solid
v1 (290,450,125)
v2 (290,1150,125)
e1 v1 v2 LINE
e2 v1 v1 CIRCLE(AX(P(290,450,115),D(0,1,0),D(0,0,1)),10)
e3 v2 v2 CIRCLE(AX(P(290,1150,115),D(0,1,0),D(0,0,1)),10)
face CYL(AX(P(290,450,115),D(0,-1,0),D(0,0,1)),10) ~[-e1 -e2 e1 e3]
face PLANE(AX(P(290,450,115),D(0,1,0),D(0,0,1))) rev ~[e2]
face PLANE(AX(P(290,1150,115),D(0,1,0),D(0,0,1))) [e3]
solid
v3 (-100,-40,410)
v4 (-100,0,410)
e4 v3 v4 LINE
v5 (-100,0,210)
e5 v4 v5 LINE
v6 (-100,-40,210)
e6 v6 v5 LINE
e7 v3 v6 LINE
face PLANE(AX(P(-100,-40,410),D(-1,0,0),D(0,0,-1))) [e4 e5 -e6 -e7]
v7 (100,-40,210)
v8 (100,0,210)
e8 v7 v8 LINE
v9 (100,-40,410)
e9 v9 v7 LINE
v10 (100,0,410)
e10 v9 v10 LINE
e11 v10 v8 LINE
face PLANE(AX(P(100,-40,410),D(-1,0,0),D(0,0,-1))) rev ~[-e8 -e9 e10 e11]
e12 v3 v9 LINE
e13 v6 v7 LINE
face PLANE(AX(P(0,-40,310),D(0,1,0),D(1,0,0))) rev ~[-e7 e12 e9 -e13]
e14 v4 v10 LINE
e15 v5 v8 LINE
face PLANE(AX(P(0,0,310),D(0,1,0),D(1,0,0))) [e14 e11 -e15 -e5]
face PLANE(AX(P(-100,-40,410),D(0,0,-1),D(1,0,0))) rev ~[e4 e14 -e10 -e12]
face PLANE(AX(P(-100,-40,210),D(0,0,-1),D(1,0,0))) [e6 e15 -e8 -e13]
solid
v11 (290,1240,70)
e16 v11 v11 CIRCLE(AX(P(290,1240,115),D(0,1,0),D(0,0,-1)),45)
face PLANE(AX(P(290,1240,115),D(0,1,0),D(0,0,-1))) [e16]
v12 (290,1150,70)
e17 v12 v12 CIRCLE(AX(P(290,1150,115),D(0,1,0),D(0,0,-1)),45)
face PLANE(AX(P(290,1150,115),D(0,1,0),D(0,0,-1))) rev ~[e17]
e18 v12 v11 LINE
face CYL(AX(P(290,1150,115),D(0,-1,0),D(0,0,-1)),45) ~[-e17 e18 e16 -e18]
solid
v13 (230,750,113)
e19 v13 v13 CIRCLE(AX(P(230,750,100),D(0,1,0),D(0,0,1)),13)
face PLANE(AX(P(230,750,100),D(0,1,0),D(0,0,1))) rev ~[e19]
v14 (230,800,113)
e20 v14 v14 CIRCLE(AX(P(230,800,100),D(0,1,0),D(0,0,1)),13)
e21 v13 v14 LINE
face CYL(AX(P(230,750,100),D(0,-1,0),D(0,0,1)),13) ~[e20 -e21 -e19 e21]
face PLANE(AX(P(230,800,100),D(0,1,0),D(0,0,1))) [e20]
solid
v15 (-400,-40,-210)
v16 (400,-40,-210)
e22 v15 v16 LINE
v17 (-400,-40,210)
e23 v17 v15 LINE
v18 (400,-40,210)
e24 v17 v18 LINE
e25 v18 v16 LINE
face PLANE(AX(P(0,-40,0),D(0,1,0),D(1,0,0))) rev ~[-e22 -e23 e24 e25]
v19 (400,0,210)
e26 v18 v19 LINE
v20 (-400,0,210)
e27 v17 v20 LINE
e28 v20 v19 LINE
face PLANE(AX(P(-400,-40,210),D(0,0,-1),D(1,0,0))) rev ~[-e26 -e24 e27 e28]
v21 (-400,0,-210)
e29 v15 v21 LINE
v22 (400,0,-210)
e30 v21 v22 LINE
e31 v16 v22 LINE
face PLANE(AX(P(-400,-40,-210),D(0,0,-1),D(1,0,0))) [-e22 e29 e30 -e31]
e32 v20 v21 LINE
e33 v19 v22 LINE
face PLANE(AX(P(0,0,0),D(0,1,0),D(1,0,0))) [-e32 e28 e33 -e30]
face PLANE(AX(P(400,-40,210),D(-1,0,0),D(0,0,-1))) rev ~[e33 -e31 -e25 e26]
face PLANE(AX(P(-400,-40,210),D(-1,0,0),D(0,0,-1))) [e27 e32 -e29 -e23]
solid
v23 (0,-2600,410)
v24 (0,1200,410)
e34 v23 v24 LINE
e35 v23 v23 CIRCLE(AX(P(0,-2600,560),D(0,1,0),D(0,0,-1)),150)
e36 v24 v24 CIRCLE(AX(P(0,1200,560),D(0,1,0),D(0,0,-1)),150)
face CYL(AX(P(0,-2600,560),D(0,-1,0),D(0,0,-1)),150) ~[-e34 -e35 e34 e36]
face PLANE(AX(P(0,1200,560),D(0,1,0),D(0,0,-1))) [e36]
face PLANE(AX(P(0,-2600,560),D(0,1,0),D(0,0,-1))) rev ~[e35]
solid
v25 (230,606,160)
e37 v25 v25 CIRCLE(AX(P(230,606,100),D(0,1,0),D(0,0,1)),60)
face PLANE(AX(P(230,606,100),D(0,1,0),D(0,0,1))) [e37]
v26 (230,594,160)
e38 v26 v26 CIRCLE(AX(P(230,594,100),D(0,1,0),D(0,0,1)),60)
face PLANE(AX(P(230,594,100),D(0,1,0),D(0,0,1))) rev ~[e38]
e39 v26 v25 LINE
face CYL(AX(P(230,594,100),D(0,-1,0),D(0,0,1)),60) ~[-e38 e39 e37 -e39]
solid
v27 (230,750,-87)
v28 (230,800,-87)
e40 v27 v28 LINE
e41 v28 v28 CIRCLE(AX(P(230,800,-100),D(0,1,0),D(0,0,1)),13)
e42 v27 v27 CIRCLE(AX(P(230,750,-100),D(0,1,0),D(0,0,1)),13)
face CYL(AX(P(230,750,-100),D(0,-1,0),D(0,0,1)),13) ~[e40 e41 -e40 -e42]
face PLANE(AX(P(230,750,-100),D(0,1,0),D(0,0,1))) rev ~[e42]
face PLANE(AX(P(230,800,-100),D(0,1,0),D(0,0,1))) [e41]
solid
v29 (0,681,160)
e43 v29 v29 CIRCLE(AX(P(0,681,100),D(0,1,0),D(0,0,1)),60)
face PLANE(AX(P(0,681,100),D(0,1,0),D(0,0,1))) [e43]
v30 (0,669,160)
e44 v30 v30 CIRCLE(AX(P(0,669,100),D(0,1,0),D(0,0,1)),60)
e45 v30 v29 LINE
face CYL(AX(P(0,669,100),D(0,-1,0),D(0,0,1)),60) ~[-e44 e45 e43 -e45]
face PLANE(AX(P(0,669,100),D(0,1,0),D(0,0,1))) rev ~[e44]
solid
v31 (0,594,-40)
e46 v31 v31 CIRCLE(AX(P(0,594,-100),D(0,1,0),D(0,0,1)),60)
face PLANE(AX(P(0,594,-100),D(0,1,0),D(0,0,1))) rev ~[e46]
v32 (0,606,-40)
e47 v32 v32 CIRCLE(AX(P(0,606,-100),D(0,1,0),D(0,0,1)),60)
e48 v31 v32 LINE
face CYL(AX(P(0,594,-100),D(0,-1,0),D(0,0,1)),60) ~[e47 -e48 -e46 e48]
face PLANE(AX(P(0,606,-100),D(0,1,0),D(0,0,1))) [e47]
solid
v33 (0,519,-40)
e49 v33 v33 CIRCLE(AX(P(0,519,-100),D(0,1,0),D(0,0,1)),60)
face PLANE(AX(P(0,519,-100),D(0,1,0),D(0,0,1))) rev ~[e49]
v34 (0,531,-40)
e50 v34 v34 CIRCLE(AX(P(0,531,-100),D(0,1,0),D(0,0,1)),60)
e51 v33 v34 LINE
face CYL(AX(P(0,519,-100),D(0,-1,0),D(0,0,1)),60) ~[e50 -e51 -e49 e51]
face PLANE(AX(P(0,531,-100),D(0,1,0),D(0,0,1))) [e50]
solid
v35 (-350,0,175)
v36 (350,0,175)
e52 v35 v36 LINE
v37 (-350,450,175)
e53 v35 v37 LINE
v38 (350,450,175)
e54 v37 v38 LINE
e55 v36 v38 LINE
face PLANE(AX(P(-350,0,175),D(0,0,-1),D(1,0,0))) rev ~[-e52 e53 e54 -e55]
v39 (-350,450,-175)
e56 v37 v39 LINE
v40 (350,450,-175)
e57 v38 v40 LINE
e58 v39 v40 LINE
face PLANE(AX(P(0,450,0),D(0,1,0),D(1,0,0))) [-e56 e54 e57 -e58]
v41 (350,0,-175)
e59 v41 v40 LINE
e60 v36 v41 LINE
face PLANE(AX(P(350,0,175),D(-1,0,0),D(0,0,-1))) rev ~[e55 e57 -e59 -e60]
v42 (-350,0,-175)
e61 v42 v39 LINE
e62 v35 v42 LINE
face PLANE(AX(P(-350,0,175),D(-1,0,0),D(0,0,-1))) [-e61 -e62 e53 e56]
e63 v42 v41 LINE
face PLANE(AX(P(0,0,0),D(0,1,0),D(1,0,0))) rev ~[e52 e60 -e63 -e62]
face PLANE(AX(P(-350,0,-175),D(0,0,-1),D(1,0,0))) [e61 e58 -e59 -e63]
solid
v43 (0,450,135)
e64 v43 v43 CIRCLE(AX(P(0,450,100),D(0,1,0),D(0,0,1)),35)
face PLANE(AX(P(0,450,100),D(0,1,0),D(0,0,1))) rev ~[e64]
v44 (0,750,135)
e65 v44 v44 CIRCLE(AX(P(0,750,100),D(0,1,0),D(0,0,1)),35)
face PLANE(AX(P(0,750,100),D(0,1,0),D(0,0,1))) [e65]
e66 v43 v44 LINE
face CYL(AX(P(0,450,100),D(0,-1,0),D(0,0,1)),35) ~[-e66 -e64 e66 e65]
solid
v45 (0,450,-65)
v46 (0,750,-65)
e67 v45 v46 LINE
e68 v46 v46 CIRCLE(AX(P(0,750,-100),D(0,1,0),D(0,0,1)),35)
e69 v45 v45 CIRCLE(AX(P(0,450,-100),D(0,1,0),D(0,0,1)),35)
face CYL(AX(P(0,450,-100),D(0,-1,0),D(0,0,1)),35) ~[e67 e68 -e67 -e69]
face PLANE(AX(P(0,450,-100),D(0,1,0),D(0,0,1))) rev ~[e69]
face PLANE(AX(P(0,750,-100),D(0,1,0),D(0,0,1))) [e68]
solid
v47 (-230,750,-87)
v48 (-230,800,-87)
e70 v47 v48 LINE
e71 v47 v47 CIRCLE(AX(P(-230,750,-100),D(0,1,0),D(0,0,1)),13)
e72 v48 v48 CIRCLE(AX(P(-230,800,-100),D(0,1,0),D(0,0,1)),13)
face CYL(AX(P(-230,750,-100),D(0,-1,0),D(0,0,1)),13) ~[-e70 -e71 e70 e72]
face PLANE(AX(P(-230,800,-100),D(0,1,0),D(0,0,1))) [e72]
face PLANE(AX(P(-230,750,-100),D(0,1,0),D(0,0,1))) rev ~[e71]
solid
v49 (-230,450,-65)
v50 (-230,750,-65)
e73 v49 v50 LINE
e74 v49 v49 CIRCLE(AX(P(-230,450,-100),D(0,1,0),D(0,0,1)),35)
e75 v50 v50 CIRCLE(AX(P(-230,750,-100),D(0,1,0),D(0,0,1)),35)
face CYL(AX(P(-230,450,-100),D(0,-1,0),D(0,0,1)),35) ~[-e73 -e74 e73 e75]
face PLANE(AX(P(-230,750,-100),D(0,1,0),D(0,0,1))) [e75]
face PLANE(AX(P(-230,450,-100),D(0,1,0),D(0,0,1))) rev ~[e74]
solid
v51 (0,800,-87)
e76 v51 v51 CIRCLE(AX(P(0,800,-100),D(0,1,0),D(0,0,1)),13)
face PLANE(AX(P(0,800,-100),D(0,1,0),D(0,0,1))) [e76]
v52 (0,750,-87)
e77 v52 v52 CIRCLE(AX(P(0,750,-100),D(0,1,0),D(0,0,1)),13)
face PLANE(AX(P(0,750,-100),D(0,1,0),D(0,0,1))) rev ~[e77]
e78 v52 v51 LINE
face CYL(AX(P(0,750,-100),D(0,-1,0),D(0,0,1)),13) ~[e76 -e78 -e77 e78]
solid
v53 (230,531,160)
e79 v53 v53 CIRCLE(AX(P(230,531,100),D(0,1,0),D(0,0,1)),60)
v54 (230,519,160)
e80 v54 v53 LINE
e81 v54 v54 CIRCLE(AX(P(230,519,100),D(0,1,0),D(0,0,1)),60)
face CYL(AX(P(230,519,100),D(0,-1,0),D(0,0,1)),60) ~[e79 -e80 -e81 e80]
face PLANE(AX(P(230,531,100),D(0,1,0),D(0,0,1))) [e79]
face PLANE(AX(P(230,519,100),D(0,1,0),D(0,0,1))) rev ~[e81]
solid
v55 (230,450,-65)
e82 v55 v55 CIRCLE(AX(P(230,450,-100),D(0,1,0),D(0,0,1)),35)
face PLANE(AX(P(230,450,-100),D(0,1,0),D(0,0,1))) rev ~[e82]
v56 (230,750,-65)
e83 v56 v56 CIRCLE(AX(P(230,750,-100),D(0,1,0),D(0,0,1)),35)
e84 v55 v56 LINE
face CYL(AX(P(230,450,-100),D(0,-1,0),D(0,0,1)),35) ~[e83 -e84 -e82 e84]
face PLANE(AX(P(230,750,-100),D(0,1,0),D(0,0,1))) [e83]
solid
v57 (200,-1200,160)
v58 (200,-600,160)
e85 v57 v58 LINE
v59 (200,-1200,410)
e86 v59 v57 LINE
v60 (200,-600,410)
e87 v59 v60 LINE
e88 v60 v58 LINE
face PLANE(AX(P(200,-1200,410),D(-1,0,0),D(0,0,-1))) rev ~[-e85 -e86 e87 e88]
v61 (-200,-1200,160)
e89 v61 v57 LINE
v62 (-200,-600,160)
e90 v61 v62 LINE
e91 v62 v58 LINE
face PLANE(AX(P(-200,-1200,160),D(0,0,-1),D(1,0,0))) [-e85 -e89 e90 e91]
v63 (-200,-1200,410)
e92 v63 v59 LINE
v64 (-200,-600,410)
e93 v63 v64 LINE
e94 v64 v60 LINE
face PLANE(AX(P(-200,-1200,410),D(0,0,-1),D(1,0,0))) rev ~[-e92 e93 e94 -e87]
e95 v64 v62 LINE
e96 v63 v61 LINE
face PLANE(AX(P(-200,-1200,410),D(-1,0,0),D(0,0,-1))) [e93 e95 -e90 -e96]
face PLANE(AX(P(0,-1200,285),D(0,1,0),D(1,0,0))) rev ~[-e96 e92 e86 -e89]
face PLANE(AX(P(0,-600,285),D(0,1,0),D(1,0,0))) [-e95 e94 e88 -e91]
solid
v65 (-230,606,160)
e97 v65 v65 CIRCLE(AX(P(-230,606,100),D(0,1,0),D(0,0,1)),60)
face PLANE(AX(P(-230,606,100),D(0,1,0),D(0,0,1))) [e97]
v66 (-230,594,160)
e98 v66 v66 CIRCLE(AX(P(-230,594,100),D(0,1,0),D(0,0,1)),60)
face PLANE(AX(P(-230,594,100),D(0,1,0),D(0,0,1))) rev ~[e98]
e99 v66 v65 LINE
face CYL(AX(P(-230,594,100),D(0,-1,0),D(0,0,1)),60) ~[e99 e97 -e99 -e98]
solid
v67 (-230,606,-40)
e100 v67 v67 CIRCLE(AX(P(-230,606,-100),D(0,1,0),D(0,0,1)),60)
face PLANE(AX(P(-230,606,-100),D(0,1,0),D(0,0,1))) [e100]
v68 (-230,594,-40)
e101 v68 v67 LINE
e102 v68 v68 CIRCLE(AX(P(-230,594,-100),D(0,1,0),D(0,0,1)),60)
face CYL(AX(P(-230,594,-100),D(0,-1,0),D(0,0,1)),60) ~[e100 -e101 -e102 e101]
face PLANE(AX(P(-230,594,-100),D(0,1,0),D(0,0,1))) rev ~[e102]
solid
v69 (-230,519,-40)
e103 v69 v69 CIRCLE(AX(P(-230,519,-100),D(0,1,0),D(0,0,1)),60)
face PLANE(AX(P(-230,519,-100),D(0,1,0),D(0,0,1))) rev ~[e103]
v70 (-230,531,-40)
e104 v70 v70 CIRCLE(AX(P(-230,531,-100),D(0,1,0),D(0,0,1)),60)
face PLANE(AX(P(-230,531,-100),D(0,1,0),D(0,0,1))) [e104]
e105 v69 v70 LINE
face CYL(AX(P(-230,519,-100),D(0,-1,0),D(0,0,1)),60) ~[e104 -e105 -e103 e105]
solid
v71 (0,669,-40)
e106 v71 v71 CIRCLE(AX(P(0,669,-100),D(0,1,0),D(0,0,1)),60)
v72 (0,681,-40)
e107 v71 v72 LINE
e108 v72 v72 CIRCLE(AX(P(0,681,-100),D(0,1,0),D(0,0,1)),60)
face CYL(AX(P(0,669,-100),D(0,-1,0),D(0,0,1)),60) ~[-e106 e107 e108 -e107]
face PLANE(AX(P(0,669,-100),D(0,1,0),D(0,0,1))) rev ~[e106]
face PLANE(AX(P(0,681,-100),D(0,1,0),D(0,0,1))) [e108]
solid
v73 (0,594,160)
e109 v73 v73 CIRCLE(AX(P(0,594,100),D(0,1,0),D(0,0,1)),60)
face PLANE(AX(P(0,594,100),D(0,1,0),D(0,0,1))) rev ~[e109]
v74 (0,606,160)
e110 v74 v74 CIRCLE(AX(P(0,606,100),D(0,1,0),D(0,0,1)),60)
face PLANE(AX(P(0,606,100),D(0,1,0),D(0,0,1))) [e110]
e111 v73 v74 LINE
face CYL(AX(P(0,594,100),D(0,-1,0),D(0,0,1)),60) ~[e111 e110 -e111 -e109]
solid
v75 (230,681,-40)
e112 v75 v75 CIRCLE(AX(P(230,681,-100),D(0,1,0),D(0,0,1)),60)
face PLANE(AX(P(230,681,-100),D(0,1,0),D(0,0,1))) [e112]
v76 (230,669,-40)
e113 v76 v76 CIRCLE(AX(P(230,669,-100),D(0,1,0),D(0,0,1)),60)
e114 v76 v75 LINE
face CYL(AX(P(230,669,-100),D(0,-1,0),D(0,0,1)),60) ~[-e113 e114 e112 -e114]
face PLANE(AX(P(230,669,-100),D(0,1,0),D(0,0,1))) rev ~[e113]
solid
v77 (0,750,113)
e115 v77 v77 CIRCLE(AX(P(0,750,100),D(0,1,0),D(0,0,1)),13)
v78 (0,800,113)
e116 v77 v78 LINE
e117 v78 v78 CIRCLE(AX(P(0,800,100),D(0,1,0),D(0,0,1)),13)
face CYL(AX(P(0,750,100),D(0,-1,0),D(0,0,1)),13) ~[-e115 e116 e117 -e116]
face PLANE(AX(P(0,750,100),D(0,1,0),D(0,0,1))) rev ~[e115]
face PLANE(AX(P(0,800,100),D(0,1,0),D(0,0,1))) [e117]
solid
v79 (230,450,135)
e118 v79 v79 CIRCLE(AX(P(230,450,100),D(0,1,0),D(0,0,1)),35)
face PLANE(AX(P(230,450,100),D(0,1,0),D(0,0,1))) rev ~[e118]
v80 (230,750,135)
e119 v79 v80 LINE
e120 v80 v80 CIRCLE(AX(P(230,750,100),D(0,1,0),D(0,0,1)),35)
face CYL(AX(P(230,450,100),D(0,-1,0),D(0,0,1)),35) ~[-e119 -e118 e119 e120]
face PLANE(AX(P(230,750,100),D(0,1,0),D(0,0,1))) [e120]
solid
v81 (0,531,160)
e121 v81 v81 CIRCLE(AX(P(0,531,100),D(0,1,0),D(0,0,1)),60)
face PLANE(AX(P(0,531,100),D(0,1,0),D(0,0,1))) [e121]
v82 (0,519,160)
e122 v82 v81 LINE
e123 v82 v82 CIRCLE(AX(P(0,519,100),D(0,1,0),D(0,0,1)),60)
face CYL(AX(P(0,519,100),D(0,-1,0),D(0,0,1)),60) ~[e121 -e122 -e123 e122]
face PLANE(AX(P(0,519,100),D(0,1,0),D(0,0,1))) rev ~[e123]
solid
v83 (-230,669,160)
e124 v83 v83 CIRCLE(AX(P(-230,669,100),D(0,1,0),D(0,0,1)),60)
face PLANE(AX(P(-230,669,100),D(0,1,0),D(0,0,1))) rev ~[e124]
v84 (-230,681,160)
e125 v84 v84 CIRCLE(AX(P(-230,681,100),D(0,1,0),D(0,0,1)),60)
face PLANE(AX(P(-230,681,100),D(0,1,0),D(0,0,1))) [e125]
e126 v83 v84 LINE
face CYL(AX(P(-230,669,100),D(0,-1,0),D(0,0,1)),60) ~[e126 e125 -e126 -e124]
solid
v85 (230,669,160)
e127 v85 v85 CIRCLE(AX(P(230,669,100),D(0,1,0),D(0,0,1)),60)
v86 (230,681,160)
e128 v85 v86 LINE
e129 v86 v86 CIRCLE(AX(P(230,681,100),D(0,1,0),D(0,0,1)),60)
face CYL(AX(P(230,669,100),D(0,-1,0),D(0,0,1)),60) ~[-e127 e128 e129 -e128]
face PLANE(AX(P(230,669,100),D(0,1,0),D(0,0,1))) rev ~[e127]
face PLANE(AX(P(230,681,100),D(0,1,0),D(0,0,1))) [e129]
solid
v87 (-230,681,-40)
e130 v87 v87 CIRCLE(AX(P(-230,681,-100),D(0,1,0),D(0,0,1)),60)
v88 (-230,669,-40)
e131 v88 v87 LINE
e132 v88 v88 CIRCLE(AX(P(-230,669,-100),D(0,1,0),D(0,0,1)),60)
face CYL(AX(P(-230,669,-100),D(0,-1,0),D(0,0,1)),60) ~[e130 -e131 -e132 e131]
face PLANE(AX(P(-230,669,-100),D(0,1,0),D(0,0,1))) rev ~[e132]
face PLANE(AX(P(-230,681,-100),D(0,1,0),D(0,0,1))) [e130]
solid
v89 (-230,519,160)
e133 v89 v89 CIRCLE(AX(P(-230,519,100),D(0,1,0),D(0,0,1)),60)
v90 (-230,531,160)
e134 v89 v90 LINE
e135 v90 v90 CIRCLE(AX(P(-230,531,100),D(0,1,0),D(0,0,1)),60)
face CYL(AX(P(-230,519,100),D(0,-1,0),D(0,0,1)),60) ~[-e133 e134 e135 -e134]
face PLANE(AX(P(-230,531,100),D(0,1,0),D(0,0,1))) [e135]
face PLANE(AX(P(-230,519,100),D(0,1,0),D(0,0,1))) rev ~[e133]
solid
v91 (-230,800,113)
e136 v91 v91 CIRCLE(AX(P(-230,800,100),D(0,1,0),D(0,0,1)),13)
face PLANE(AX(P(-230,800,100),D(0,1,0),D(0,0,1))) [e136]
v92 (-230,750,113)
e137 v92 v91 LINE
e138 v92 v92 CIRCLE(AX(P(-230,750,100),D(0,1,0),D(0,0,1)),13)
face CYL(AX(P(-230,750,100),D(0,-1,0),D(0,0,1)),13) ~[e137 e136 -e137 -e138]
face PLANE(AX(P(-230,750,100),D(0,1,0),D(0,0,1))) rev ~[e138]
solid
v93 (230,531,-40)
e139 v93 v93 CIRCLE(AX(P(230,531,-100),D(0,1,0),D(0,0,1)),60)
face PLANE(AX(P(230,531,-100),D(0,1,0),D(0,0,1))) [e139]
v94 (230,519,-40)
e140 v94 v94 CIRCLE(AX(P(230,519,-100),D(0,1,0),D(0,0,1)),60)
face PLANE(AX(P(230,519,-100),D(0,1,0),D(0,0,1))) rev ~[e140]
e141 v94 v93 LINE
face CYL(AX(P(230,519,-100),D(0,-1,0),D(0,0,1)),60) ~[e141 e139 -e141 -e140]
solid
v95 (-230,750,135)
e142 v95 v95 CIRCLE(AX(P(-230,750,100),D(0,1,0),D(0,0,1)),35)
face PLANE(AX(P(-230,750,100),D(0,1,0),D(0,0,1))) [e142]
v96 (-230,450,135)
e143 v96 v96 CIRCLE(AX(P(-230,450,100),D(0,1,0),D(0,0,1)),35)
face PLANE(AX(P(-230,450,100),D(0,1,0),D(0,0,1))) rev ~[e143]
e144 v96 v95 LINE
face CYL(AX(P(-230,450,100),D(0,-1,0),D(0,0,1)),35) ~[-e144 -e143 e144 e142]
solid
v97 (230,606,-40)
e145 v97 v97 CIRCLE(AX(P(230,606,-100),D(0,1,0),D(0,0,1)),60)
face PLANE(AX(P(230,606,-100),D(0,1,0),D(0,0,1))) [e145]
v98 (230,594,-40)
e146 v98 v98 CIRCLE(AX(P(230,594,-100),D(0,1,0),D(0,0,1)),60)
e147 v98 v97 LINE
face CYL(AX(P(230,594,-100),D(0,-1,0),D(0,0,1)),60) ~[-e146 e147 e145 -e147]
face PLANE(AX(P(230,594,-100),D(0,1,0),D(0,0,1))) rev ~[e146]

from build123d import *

# Parameters (mm, degrees)
SKETCH1_W               = 700
SKETCH1_H               = 350
TANK_DEPTH              = 450
FRAME_START             = -40
SKETCH2_W               = 800
SKETCH2_H               = 420
FRAME_DEPTH             = 40
SKETCH3_W               = 200
SKETCH3_H               = 200
FRAME_ARM_DEPTH         = 40
CONTROL_START           = -1200
SKETCH4_W               = 400
SKETCH4_H               = 250
CONTROL_CABINET_DEPTH   = 600
POLE_START              = -2600
SKETCH5_R               = 150
POLE_DEPTH              = 3800
BUSHING_START           = 450
SKETCH6_R               = 35
BUSHING_SOURCE_A_DEPTH  = 300
SHED_START              = 519
SKETCH7_R               = 60
SHED_SOURCE_A_1_DEPTH   = 12
SHED_START_2            = 594
SKETCH8_R               = 60
SHED_SOURCE_A_2_DEPTH   = 12
SHED_START_3            = 669
SKETCH9_R               = 60
SHED_SOURCE_A_3_DEPTH   = 12
TERMINAL_START          = 750
SKETCH10_R              = 13
TERMINAL_SOURCE_A_DEPTH = 50
SKETCH11_R              = 35
BUSHING_SOURCE_B_DEPTH  = 300
SKETCH12_R              = 60
SHED_SOURCE_B_1_DEPTH   = 12
SKETCH13_R              = 60
SHED_SOURCE_B_2_DEPTH   = 12
SKETCH14_R              = 60
SHED_SOURCE_B_3_DEPTH   = 12
SKETCH15_R              = 13
TERMINAL_SOURCE_B_DEPTH = 50
SKETCH16_R              = 35
BUSHING_SOURCE_C_DEPTH  = 300
SKETCH17_R              = 60
SHED_SOURCE_C_1_DEPTH   = 12
SKETCH18_R              = 60
SHED_SOURCE_C_2_DEPTH   = 12
SKETCH19_R              = 60
SHED_SOURCE_C_3_DEPTH   = 12
SKETCH20_R              = 13
TERMINAL_SOURCE_C_DEPTH = 50
SKETCH21_R              = 35
BUSHING_LOAD_A_DEPTH    = 300
SKETCH22_R              = 60
SHED_LOAD_A_1_DEPTH     = 12
SKETCH23_R              = 60
SHED_LOAD_A_2_DEPTH     = 12
SKETCH24_R              = 60
SHED_LOAD_A_3_DEPTH     = 12
SKETCH25_R              = 13
TERMINAL_LOAD_A_DEPTH   = 50
SKETCH26_R              = 35
BUSHING_LOAD_B_DEPTH    = 300
SKETCH27_R              = 60
SHED_LOAD_B_1_DEPTH     = 12
SKETCH28_R              = 60
SHED_LOAD_B_2_DEPTH     = 12
SKETCH29_R              = 60
SHED_LOAD_B_3_DEPTH     = 12
SKETCH30_R              = 13
TERMINAL_LOAD_B_DEPTH   = 50
SKETCH31_R              = 35
BUSHING_LOAD_C_DEPTH    = 300
SKETCH32_R              = 60
SHED_LOAD_C_1_DEPTH     = 12
SKETCH33_R              = 60
SHED_LOAD_C_2_DEPTH     = 12
SKETCH34_R              = 60
SHED_LOAD_C_3_DEPTH     = 12
SKETCH35_R              = 13
TERMINAL_LOAD_C_DEPTH   = 50
ANTENNA_START           = 450
SKETCH36_R              = 10
ANTENNA_MAST_DEPTH      = 700
ANTENNA_START_2         = 1150
SKETCH37_R              = 45
ANTENNA_RADOME_DEPTH    = 90


with BuildPart() as part:
    # Sketch1 → Tank (new body)
    with BuildSketch(Plane(origin=(0, 0, 0), x_dir=(1, 0, 0), z_dir=(0, 1, 0))):
        Rectangle(SKETCH1_W, SKETCH1_H)
    extrude(amount=TANK_DEPTH)


with BuildPart() as body_2:
    # Sketch2 → Frame (new body)
    with BuildSketch(Plane(origin=(0, 0, 0), x_dir=(1, 0, 0), z_dir=(0, 1, 0)).offset(FRAME_START)):
        Rectangle(SKETCH2_W, SKETCH2_H)
    extrude(amount=FRAME_DEPTH)


with BuildPart() as body_3:
    # Sketch3 → Frame arm (new body)
    with BuildSketch(Plane(origin=(0, 0, 0), x_dir=(1, 0, 0), z_dir=(0, 1, 0)).offset(FRAME_START)):
        with Locations((0, -310)):
            Rectangle(SKETCH3_W, SKETCH3_H)
    extrude(amount=FRAME_ARM_DEPTH)


with BuildPart() as body_4:
    # Sketch4 → Control cabinet (new body)
    with BuildSketch(Plane(origin=(0, 0, 0), x_dir=(1, 0, 0), z_dir=(0, 1, 0)).offset(CONTROL_START)):
        with Locations((0, -285)):
            Rectangle(SKETCH4_W, SKETCH4_H)
    extrude(amount=CONTROL_CABINET_DEPTH)


with BuildPart() as body_5:
    # Sketch5 → Pole (new body)
    with BuildSketch(Plane(origin=(0, 0, 0), x_dir=(1, 0, 0), z_dir=(0, 1, 0)).offset(POLE_START)):
        with Locations(Location((0, -560, 0), (0, 0, 90))):
            Circle(SKETCH5_R)
    extrude(amount=POLE_DEPTH)


with BuildPart() as body_6:
    # Sketch6 → Bushing Source A (new body)
    with BuildSketch(Plane(origin=(0, 0, 0), x_dir=(1, 0, 0), z_dir=(0, 1, 0)).offset(BUSHING_START)):
        with Locations(Location((-230, 100, 0), (0, 0, 270))):
            Circle(SKETCH6_R)
    extrude(amount=BUSHING_SOURCE_A_DEPTH)


with BuildPart() as body_7:
    # Sketch7 → Shed Source A 1 (new body)
    with BuildSketch(Plane(origin=(0, 0, 0), x_dir=(1, 0, 0), z_dir=(0, 1, 0)).offset(SHED_START)):
        with Locations(Location((-230, 100, 0), (0, 0, 270))):
            Circle(SKETCH7_R)
    extrude(amount=SHED_SOURCE_A_1_DEPTH)


with BuildPart() as body_8:
    # Sketch8 → Shed Source A 2 (new body)
    with BuildSketch(Plane(origin=(0, 0, 0), x_dir=(1, 0, 0), z_dir=(0, 1, 0)).offset(SHED_START_2)):
        with Locations(Location((-230, 100, 0), (0, 0, 270))):
            Circle(SKETCH8_R)
    extrude(amount=SHED_SOURCE_A_2_DEPTH)


with BuildPart() as body_9:
    # Sketch9 → Shed Source A 3 (new body)
    with BuildSketch(Plane(origin=(0, 0, 0), x_dir=(1, 0, 0), z_dir=(0, 1, 0)).offset(SHED_START_3)):
        with Locations(Location((-230, 100, 0), (0, 0, 270))):
            Circle(SKETCH9_R)
    extrude(amount=SHED_SOURCE_A_3_DEPTH)


with BuildPart() as body_10:
    # Sketch10 → Terminal Source A (new body)
    with BuildSketch(Plane(origin=(0, 0, 0), x_dir=(1, 0, 0), z_dir=(0, 1, 0)).offset(TERMINAL_START)):
        with Locations(Location((-230, 100, 0), (0, 0, 270))):
            Circle(SKETCH10_R)
    extrude(amount=TERMINAL_SOURCE_A_DEPTH)


with BuildPart() as body_11:
    # Sketch11 → Bushing Source B (new body)
    with BuildSketch(Plane(origin=(0, 0, 0), x_dir=(1, 0, 0), z_dir=(0, 1, 0)).offset(BUSHING_START)):
        with Locations(Location((0, 100, 0), (0, 0, 270))):
            Circle(SKETCH11_R)
    extrude(amount=BUSHING_SOURCE_B_DEPTH)


with BuildPart() as body_12:
    # Sketch12 → Shed Source B 1 (new body)
    with BuildSketch(Plane(origin=(0, 0, 0), x_dir=(1, 0, 0), z_dir=(0, 1, 0)).offset(SHED_START)):
        with Locations(Location((0, 100, 0), (0, 0, 270))):
            Circle(SKETCH12_R)
    extrude(amount=SHED_SOURCE_B_1_DEPTH)


with BuildPart() as body_13:
    # Sketch13 → Shed Source B 2 (new body)
    with BuildSketch(Plane(origin=(0, 0, 0), x_dir=(1, 0, 0), z_dir=(0, 1, 0)).offset(SHED_START_2)):
        with Locations(Location((0, 100, 0), (0, 0, 270))):
            Circle(SKETCH13_R)
    extrude(amount=SHED_SOURCE_B_2_DEPTH)


with BuildPart() as body_14:
    # Sketch14 → Shed Source B 3 (new body)
    with BuildSketch(Plane(origin=(0, 0, 0), x_dir=(1, 0, 0), z_dir=(0, 1, 0)).offset(SHED_START_3)):
        with Locations(Location((0, 100, 0), (0, 0, 270))):
            Circle(SKETCH14_R)
    extrude(amount=SHED_SOURCE_B_3_DEPTH)


with BuildPart() as body_15:
    # Sketch15 → Terminal Source B (new body)
    with BuildSketch(Plane(origin=(0, 0, 0), x_dir=(1, 0, 0), z_dir=(0, 1, 0)).offset(TERMINAL_START)):
        with Locations(Location((0, 100, 0), (0, 0, 270))):
            Circle(SKETCH15_R)
    extrude(amount=TERMINAL_SOURCE_B_DEPTH)


with BuildPart() as body_16:
    # Sketch16 → Bushing Source C (new body)
    with BuildSketch(Plane(origin=(0, 0, 0), x_dir=(1, 0, 0), z_dir=(0, 1, 0)).offset(BUSHING_START)):
        with Locations(Location((230, 100, 0), (0, 0, 270))):
            Circle(SKETCH16_R)
    extrude(amount=BUSHING_SOURCE_C_DEPTH)


with BuildPart() as body_17:
    # Sketch17 → Shed Source C 1 (new body)
    with BuildSketch(Plane(origin=(0, 0, 0), x_dir=(1, 0, 0), z_dir=(0, 1, 0)).offset(SHED_START)):
        with Locations(Location((230, 100, 0), (0, 0, 270))):
            Circle(SKETCH17_R)
    extrude(amount=SHED_SOURCE_C_1_DEPTH)


with BuildPart() as body_18:
    # Sketch18 → Shed Source C 2 (new body)
    with BuildSketch(Plane(origin=(0, 0, 0), x_dir=(1, 0, 0), z_dir=(0, 1, 0)).offset(SHED_START_2)):
        with Locations(Location((230, 100, 0), (0, 0, 270))):
            Circle(SKETCH18_R)
    extrude(amount=SHED_SOURCE_C_2_DEPTH)


with BuildPart() as body_19:
    # Sketch19 → Shed Source C 3 (new body)
    with BuildSketch(Plane(origin=(0, 0, 0), x_dir=(1, 0, 0), z_dir=(0, 1, 0)).offset(SHED_START_3)):
        with Locations(Location((230, 100, 0), (0, 0, 270))):
            Circle(SKETCH19_R)
    extrude(amount=SHED_SOURCE_C_3_DEPTH)


with BuildPart() as body_20:
    # Sketch20 → Terminal Source C (new body)
    with BuildSketch(Plane(origin=(0, 0, 0), x_dir=(1, 0, 0), z_dir=(0, 1, 0)).offset(TERMINAL_START)):
        with Locations(Location((230, 100, 0), (0, 0, 270))):
            Circle(SKETCH20_R)
    extrude(amount=TERMINAL_SOURCE_C_DEPTH)


with BuildPart() as body_21:
    # Sketch21 → Bushing Load A (new body)
    with BuildSketch(Plane(origin=(0, 0, 0), x_dir=(1, 0, 0), z_dir=(0, 1, 0)).offset(BUSHING_START)):
        with Locations(Location((-230, -100, 0), (0, 0, 270))):
            Circle(SKETCH21_R)
    extrude(amount=BUSHING_LOAD_A_DEPTH)


with BuildPart() as body_22:
    # Sketch22 → Shed Load A 1 (new body)
    with BuildSketch(Plane(origin=(0, 0, 0), x_dir=(1, 0, 0), z_dir=(0, 1, 0)).offset(SHED_START)):
        with Locations(Location((-230, -100, 0), (0, 0, 270))):
            Circle(SKETCH22_R)
    extrude(amount=SHED_LOAD_A_1_DEPTH)


with BuildPart() as body_23:
    # Sketch23 → Shed Load A 2 (new body)
    with BuildSketch(Plane(origin=(0, 0, 0), x_dir=(1, 0, 0), z_dir=(0, 1, 0)).offset(SHED_START_2)):
        with Locations(Location((-230, -100, 0), (0, 0, 270))):
            Circle(SKETCH23_R)
    extrude(amount=SHED_LOAD_A_2_DEPTH)


with BuildPart() as body_24:
    # Sketch24 → Shed Load A 3 (new body)
    with BuildSketch(Plane(origin=(0, 0, 0), x_dir=(1, 0, 0), z_dir=(0, 1, 0)).offset(SHED_START_3)):
        with Locations(Location((-230, -100, 0), (0, 0, 270))):
            Circle(SKETCH24_R)
    extrude(amount=SHED_LOAD_A_3_DEPTH)


with BuildPart() as body_25:
    # Sketch25 → Terminal Load A (new body)
    with BuildSketch(Plane(origin=(0, 0, 0), x_dir=(1, 0, 0), z_dir=(0, 1, 0)).offset(TERMINAL_START)):
        with Locations(Location((-230, -100, 0), (0, 0, 270))):
            Circle(SKETCH25_R)
    extrude(amount=TERMINAL_LOAD_A_DEPTH)


with BuildPart() as body_26:
    # Sketch26 → Bushing Load B (new body)
    with BuildSketch(Plane(origin=(0, 0, 0), x_dir=(1, 0, 0), z_dir=(0, 1, 0)).offset(BUSHING_START)):
        with Locations(Location((0, -100, 0), (0, 0, 270))):
            Circle(SKETCH26_R)
    extrude(amount=BUSHING_LOAD_B_DEPTH)


with BuildPart() as body_27:
    # Sketch27 → Shed Load B 1 (new body)
    with BuildSketch(Plane(origin=(0, 0, 0), x_dir=(1, 0, 0), z_dir=(0, 1, 0)).offset(SHED_START)):
        with Locations(Location((0, -100, 0), (0, 0, 270))):
            Circle(SKETCH27_R)
    extrude(amount=SHED_LOAD_B_1_DEPTH)


with BuildPart() as body_28:
    # Sketch28 → Shed Load B 2 (new body)
    with BuildSketch(Plane(origin=(0, 0, 0), x_dir=(1, 0, 0), z_dir=(0, 1, 0)).offset(SHED_START_2)):
        with Locations(Location((0, -100, 0), (0, 0, 270))):
            Circle(SKETCH28_R)
    extrude(amount=SHED_LOAD_B_2_DEPTH)


with BuildPart() as body_29:
    # Sketch29 → Shed Load B 3 (new body)
    with BuildSketch(Plane(origin=(0, 0, 0), x_dir=(1, 0, 0), z_dir=(0, 1, 0)).offset(SHED_START_3)):
        with Locations(Location((0, -100, 0), (0, 0, 270))):
            Circle(SKETCH29_R)
    extrude(amount=SHED_LOAD_B_3_DEPTH)


with BuildPart() as body_30:
    # Sketch30 → Terminal Load B (new body)
    with BuildSketch(Plane(origin=(0, 0, 0), x_dir=(1, 0, 0), z_dir=(0, 1, 0)).offset(TERMINAL_START)):
        with Locations(Location((0, -100, 0), (0, 0, 270))):
            Circle(SKETCH30_R)
    extrude(amount=TERMINAL_LOAD_B_DEPTH)


with BuildPart() as body_31:
    # Sketch31 → Bushing Load C (new body)
    with BuildSketch(Plane(origin=(0, 0, 0), x_dir=(1, 0, 0), z_dir=(0, 1, 0)).offset(BUSHING_START)):
        with Locations(Location((230, -100, 0), (0, 0, 270))):
            Circle(SKETCH31_R)
    extrude(amount=BUSHING_LOAD_C_DEPTH)


with BuildPart() as body_32:
    # Sketch32 → Shed Load C 1 (new body)
    with BuildSketch(Plane(origin=(0, 0, 0), x_dir=(1, 0, 0), z_dir=(0, 1, 0)).offset(SHED_START)):
        with Locations(Location((230, -100, 0), (0, 0, 270))):
            Circle(SKETCH32_R)
    extrude(amount=SHED_LOAD_C_1_DEPTH)


with BuildPart() as body_33:
    # Sketch33 → Shed Load C 2 (new body)
    with BuildSketch(Plane(origin=(0, 0, 0), x_dir=(1, 0, 0), z_dir=(0, 1, 0)).offset(SHED_START_2)):
        with Locations(Location((230, -100, 0), (0, 0, 270))):
            Circle(SKETCH33_R)
    extrude(amount=SHED_LOAD_C_2_DEPTH)


with BuildPart() as body_34:
    # Sketch34 → Shed Load C 3 (new body)
    with BuildSketch(Plane(origin=(0, 0, 0), x_dir=(1, 0, 0), z_dir=(0, 1, 0)).offset(SHED_START_3)):
        with Locations(Location((230, -100, 0), (0, 0, 270))):
            Circle(SKETCH34_R)
    extrude(amount=SHED_LOAD_C_3_DEPTH)


with BuildPart() as body_35:
    # Sketch35 → Terminal Load C (new body)
    with BuildSketch(Plane(origin=(0, 0, 0), x_dir=(1, 0, 0), z_dir=(0, 1, 0)).offset(TERMINAL_START)):
        with Locations(Location((230, -100, 0), (0, 0, 270))):
            Circle(SKETCH35_R)
    extrude(amount=TERMINAL_LOAD_C_DEPTH)


with BuildPart() as body_36:
    # Sketch36 → Antenna mast (new body)
    with BuildSketch(Plane(origin=(0, 0, 0), x_dir=(1, 0, 0), z_dir=(0, 1, 0)).offset(ANTENNA_START)):
        with Locations(Location((290, -115, 0), (0, 0, 270))):
            Circle(SKETCH36_R)
    extrude(amount=ANTENNA_MAST_DEPTH)


with BuildPart() as body_37:
    # Sketch37 → Antenna radome (new body)
    with BuildSketch(Plane(origin=(0, 0, 0), x_dir=(1, 0, 0), z_dir=(0, 1, 0)).offset(ANTENNA_START_2)):
        with Locations(Location((290, -115, 0), (0, 0, 90))):
            Circle(SKETCH37_R)
    extrude(amount=ANTENNA_RADOME_DEPTH)


solid = Compound([part.part, body_2.part, body_3.part, body_4.part, body_5.part, body_6.part, body_7.part, body_8.part, body_9.part, body_10.part, body_11.part, body_12.part, body_13.part, body_14.part, body_15.part, body_16.part, body_17.part, body_18.part, body_19.part, body_20.part, body_21.part, body_22.part, body_23.part, body_24.part, body_25.part, body_26.part, body_27.part, body_28.part, body_29.part, body_30.part, body_31.part, body_32.part, body_33.part, body_34.part, body_35.part, body_36.part, body_37.part])
